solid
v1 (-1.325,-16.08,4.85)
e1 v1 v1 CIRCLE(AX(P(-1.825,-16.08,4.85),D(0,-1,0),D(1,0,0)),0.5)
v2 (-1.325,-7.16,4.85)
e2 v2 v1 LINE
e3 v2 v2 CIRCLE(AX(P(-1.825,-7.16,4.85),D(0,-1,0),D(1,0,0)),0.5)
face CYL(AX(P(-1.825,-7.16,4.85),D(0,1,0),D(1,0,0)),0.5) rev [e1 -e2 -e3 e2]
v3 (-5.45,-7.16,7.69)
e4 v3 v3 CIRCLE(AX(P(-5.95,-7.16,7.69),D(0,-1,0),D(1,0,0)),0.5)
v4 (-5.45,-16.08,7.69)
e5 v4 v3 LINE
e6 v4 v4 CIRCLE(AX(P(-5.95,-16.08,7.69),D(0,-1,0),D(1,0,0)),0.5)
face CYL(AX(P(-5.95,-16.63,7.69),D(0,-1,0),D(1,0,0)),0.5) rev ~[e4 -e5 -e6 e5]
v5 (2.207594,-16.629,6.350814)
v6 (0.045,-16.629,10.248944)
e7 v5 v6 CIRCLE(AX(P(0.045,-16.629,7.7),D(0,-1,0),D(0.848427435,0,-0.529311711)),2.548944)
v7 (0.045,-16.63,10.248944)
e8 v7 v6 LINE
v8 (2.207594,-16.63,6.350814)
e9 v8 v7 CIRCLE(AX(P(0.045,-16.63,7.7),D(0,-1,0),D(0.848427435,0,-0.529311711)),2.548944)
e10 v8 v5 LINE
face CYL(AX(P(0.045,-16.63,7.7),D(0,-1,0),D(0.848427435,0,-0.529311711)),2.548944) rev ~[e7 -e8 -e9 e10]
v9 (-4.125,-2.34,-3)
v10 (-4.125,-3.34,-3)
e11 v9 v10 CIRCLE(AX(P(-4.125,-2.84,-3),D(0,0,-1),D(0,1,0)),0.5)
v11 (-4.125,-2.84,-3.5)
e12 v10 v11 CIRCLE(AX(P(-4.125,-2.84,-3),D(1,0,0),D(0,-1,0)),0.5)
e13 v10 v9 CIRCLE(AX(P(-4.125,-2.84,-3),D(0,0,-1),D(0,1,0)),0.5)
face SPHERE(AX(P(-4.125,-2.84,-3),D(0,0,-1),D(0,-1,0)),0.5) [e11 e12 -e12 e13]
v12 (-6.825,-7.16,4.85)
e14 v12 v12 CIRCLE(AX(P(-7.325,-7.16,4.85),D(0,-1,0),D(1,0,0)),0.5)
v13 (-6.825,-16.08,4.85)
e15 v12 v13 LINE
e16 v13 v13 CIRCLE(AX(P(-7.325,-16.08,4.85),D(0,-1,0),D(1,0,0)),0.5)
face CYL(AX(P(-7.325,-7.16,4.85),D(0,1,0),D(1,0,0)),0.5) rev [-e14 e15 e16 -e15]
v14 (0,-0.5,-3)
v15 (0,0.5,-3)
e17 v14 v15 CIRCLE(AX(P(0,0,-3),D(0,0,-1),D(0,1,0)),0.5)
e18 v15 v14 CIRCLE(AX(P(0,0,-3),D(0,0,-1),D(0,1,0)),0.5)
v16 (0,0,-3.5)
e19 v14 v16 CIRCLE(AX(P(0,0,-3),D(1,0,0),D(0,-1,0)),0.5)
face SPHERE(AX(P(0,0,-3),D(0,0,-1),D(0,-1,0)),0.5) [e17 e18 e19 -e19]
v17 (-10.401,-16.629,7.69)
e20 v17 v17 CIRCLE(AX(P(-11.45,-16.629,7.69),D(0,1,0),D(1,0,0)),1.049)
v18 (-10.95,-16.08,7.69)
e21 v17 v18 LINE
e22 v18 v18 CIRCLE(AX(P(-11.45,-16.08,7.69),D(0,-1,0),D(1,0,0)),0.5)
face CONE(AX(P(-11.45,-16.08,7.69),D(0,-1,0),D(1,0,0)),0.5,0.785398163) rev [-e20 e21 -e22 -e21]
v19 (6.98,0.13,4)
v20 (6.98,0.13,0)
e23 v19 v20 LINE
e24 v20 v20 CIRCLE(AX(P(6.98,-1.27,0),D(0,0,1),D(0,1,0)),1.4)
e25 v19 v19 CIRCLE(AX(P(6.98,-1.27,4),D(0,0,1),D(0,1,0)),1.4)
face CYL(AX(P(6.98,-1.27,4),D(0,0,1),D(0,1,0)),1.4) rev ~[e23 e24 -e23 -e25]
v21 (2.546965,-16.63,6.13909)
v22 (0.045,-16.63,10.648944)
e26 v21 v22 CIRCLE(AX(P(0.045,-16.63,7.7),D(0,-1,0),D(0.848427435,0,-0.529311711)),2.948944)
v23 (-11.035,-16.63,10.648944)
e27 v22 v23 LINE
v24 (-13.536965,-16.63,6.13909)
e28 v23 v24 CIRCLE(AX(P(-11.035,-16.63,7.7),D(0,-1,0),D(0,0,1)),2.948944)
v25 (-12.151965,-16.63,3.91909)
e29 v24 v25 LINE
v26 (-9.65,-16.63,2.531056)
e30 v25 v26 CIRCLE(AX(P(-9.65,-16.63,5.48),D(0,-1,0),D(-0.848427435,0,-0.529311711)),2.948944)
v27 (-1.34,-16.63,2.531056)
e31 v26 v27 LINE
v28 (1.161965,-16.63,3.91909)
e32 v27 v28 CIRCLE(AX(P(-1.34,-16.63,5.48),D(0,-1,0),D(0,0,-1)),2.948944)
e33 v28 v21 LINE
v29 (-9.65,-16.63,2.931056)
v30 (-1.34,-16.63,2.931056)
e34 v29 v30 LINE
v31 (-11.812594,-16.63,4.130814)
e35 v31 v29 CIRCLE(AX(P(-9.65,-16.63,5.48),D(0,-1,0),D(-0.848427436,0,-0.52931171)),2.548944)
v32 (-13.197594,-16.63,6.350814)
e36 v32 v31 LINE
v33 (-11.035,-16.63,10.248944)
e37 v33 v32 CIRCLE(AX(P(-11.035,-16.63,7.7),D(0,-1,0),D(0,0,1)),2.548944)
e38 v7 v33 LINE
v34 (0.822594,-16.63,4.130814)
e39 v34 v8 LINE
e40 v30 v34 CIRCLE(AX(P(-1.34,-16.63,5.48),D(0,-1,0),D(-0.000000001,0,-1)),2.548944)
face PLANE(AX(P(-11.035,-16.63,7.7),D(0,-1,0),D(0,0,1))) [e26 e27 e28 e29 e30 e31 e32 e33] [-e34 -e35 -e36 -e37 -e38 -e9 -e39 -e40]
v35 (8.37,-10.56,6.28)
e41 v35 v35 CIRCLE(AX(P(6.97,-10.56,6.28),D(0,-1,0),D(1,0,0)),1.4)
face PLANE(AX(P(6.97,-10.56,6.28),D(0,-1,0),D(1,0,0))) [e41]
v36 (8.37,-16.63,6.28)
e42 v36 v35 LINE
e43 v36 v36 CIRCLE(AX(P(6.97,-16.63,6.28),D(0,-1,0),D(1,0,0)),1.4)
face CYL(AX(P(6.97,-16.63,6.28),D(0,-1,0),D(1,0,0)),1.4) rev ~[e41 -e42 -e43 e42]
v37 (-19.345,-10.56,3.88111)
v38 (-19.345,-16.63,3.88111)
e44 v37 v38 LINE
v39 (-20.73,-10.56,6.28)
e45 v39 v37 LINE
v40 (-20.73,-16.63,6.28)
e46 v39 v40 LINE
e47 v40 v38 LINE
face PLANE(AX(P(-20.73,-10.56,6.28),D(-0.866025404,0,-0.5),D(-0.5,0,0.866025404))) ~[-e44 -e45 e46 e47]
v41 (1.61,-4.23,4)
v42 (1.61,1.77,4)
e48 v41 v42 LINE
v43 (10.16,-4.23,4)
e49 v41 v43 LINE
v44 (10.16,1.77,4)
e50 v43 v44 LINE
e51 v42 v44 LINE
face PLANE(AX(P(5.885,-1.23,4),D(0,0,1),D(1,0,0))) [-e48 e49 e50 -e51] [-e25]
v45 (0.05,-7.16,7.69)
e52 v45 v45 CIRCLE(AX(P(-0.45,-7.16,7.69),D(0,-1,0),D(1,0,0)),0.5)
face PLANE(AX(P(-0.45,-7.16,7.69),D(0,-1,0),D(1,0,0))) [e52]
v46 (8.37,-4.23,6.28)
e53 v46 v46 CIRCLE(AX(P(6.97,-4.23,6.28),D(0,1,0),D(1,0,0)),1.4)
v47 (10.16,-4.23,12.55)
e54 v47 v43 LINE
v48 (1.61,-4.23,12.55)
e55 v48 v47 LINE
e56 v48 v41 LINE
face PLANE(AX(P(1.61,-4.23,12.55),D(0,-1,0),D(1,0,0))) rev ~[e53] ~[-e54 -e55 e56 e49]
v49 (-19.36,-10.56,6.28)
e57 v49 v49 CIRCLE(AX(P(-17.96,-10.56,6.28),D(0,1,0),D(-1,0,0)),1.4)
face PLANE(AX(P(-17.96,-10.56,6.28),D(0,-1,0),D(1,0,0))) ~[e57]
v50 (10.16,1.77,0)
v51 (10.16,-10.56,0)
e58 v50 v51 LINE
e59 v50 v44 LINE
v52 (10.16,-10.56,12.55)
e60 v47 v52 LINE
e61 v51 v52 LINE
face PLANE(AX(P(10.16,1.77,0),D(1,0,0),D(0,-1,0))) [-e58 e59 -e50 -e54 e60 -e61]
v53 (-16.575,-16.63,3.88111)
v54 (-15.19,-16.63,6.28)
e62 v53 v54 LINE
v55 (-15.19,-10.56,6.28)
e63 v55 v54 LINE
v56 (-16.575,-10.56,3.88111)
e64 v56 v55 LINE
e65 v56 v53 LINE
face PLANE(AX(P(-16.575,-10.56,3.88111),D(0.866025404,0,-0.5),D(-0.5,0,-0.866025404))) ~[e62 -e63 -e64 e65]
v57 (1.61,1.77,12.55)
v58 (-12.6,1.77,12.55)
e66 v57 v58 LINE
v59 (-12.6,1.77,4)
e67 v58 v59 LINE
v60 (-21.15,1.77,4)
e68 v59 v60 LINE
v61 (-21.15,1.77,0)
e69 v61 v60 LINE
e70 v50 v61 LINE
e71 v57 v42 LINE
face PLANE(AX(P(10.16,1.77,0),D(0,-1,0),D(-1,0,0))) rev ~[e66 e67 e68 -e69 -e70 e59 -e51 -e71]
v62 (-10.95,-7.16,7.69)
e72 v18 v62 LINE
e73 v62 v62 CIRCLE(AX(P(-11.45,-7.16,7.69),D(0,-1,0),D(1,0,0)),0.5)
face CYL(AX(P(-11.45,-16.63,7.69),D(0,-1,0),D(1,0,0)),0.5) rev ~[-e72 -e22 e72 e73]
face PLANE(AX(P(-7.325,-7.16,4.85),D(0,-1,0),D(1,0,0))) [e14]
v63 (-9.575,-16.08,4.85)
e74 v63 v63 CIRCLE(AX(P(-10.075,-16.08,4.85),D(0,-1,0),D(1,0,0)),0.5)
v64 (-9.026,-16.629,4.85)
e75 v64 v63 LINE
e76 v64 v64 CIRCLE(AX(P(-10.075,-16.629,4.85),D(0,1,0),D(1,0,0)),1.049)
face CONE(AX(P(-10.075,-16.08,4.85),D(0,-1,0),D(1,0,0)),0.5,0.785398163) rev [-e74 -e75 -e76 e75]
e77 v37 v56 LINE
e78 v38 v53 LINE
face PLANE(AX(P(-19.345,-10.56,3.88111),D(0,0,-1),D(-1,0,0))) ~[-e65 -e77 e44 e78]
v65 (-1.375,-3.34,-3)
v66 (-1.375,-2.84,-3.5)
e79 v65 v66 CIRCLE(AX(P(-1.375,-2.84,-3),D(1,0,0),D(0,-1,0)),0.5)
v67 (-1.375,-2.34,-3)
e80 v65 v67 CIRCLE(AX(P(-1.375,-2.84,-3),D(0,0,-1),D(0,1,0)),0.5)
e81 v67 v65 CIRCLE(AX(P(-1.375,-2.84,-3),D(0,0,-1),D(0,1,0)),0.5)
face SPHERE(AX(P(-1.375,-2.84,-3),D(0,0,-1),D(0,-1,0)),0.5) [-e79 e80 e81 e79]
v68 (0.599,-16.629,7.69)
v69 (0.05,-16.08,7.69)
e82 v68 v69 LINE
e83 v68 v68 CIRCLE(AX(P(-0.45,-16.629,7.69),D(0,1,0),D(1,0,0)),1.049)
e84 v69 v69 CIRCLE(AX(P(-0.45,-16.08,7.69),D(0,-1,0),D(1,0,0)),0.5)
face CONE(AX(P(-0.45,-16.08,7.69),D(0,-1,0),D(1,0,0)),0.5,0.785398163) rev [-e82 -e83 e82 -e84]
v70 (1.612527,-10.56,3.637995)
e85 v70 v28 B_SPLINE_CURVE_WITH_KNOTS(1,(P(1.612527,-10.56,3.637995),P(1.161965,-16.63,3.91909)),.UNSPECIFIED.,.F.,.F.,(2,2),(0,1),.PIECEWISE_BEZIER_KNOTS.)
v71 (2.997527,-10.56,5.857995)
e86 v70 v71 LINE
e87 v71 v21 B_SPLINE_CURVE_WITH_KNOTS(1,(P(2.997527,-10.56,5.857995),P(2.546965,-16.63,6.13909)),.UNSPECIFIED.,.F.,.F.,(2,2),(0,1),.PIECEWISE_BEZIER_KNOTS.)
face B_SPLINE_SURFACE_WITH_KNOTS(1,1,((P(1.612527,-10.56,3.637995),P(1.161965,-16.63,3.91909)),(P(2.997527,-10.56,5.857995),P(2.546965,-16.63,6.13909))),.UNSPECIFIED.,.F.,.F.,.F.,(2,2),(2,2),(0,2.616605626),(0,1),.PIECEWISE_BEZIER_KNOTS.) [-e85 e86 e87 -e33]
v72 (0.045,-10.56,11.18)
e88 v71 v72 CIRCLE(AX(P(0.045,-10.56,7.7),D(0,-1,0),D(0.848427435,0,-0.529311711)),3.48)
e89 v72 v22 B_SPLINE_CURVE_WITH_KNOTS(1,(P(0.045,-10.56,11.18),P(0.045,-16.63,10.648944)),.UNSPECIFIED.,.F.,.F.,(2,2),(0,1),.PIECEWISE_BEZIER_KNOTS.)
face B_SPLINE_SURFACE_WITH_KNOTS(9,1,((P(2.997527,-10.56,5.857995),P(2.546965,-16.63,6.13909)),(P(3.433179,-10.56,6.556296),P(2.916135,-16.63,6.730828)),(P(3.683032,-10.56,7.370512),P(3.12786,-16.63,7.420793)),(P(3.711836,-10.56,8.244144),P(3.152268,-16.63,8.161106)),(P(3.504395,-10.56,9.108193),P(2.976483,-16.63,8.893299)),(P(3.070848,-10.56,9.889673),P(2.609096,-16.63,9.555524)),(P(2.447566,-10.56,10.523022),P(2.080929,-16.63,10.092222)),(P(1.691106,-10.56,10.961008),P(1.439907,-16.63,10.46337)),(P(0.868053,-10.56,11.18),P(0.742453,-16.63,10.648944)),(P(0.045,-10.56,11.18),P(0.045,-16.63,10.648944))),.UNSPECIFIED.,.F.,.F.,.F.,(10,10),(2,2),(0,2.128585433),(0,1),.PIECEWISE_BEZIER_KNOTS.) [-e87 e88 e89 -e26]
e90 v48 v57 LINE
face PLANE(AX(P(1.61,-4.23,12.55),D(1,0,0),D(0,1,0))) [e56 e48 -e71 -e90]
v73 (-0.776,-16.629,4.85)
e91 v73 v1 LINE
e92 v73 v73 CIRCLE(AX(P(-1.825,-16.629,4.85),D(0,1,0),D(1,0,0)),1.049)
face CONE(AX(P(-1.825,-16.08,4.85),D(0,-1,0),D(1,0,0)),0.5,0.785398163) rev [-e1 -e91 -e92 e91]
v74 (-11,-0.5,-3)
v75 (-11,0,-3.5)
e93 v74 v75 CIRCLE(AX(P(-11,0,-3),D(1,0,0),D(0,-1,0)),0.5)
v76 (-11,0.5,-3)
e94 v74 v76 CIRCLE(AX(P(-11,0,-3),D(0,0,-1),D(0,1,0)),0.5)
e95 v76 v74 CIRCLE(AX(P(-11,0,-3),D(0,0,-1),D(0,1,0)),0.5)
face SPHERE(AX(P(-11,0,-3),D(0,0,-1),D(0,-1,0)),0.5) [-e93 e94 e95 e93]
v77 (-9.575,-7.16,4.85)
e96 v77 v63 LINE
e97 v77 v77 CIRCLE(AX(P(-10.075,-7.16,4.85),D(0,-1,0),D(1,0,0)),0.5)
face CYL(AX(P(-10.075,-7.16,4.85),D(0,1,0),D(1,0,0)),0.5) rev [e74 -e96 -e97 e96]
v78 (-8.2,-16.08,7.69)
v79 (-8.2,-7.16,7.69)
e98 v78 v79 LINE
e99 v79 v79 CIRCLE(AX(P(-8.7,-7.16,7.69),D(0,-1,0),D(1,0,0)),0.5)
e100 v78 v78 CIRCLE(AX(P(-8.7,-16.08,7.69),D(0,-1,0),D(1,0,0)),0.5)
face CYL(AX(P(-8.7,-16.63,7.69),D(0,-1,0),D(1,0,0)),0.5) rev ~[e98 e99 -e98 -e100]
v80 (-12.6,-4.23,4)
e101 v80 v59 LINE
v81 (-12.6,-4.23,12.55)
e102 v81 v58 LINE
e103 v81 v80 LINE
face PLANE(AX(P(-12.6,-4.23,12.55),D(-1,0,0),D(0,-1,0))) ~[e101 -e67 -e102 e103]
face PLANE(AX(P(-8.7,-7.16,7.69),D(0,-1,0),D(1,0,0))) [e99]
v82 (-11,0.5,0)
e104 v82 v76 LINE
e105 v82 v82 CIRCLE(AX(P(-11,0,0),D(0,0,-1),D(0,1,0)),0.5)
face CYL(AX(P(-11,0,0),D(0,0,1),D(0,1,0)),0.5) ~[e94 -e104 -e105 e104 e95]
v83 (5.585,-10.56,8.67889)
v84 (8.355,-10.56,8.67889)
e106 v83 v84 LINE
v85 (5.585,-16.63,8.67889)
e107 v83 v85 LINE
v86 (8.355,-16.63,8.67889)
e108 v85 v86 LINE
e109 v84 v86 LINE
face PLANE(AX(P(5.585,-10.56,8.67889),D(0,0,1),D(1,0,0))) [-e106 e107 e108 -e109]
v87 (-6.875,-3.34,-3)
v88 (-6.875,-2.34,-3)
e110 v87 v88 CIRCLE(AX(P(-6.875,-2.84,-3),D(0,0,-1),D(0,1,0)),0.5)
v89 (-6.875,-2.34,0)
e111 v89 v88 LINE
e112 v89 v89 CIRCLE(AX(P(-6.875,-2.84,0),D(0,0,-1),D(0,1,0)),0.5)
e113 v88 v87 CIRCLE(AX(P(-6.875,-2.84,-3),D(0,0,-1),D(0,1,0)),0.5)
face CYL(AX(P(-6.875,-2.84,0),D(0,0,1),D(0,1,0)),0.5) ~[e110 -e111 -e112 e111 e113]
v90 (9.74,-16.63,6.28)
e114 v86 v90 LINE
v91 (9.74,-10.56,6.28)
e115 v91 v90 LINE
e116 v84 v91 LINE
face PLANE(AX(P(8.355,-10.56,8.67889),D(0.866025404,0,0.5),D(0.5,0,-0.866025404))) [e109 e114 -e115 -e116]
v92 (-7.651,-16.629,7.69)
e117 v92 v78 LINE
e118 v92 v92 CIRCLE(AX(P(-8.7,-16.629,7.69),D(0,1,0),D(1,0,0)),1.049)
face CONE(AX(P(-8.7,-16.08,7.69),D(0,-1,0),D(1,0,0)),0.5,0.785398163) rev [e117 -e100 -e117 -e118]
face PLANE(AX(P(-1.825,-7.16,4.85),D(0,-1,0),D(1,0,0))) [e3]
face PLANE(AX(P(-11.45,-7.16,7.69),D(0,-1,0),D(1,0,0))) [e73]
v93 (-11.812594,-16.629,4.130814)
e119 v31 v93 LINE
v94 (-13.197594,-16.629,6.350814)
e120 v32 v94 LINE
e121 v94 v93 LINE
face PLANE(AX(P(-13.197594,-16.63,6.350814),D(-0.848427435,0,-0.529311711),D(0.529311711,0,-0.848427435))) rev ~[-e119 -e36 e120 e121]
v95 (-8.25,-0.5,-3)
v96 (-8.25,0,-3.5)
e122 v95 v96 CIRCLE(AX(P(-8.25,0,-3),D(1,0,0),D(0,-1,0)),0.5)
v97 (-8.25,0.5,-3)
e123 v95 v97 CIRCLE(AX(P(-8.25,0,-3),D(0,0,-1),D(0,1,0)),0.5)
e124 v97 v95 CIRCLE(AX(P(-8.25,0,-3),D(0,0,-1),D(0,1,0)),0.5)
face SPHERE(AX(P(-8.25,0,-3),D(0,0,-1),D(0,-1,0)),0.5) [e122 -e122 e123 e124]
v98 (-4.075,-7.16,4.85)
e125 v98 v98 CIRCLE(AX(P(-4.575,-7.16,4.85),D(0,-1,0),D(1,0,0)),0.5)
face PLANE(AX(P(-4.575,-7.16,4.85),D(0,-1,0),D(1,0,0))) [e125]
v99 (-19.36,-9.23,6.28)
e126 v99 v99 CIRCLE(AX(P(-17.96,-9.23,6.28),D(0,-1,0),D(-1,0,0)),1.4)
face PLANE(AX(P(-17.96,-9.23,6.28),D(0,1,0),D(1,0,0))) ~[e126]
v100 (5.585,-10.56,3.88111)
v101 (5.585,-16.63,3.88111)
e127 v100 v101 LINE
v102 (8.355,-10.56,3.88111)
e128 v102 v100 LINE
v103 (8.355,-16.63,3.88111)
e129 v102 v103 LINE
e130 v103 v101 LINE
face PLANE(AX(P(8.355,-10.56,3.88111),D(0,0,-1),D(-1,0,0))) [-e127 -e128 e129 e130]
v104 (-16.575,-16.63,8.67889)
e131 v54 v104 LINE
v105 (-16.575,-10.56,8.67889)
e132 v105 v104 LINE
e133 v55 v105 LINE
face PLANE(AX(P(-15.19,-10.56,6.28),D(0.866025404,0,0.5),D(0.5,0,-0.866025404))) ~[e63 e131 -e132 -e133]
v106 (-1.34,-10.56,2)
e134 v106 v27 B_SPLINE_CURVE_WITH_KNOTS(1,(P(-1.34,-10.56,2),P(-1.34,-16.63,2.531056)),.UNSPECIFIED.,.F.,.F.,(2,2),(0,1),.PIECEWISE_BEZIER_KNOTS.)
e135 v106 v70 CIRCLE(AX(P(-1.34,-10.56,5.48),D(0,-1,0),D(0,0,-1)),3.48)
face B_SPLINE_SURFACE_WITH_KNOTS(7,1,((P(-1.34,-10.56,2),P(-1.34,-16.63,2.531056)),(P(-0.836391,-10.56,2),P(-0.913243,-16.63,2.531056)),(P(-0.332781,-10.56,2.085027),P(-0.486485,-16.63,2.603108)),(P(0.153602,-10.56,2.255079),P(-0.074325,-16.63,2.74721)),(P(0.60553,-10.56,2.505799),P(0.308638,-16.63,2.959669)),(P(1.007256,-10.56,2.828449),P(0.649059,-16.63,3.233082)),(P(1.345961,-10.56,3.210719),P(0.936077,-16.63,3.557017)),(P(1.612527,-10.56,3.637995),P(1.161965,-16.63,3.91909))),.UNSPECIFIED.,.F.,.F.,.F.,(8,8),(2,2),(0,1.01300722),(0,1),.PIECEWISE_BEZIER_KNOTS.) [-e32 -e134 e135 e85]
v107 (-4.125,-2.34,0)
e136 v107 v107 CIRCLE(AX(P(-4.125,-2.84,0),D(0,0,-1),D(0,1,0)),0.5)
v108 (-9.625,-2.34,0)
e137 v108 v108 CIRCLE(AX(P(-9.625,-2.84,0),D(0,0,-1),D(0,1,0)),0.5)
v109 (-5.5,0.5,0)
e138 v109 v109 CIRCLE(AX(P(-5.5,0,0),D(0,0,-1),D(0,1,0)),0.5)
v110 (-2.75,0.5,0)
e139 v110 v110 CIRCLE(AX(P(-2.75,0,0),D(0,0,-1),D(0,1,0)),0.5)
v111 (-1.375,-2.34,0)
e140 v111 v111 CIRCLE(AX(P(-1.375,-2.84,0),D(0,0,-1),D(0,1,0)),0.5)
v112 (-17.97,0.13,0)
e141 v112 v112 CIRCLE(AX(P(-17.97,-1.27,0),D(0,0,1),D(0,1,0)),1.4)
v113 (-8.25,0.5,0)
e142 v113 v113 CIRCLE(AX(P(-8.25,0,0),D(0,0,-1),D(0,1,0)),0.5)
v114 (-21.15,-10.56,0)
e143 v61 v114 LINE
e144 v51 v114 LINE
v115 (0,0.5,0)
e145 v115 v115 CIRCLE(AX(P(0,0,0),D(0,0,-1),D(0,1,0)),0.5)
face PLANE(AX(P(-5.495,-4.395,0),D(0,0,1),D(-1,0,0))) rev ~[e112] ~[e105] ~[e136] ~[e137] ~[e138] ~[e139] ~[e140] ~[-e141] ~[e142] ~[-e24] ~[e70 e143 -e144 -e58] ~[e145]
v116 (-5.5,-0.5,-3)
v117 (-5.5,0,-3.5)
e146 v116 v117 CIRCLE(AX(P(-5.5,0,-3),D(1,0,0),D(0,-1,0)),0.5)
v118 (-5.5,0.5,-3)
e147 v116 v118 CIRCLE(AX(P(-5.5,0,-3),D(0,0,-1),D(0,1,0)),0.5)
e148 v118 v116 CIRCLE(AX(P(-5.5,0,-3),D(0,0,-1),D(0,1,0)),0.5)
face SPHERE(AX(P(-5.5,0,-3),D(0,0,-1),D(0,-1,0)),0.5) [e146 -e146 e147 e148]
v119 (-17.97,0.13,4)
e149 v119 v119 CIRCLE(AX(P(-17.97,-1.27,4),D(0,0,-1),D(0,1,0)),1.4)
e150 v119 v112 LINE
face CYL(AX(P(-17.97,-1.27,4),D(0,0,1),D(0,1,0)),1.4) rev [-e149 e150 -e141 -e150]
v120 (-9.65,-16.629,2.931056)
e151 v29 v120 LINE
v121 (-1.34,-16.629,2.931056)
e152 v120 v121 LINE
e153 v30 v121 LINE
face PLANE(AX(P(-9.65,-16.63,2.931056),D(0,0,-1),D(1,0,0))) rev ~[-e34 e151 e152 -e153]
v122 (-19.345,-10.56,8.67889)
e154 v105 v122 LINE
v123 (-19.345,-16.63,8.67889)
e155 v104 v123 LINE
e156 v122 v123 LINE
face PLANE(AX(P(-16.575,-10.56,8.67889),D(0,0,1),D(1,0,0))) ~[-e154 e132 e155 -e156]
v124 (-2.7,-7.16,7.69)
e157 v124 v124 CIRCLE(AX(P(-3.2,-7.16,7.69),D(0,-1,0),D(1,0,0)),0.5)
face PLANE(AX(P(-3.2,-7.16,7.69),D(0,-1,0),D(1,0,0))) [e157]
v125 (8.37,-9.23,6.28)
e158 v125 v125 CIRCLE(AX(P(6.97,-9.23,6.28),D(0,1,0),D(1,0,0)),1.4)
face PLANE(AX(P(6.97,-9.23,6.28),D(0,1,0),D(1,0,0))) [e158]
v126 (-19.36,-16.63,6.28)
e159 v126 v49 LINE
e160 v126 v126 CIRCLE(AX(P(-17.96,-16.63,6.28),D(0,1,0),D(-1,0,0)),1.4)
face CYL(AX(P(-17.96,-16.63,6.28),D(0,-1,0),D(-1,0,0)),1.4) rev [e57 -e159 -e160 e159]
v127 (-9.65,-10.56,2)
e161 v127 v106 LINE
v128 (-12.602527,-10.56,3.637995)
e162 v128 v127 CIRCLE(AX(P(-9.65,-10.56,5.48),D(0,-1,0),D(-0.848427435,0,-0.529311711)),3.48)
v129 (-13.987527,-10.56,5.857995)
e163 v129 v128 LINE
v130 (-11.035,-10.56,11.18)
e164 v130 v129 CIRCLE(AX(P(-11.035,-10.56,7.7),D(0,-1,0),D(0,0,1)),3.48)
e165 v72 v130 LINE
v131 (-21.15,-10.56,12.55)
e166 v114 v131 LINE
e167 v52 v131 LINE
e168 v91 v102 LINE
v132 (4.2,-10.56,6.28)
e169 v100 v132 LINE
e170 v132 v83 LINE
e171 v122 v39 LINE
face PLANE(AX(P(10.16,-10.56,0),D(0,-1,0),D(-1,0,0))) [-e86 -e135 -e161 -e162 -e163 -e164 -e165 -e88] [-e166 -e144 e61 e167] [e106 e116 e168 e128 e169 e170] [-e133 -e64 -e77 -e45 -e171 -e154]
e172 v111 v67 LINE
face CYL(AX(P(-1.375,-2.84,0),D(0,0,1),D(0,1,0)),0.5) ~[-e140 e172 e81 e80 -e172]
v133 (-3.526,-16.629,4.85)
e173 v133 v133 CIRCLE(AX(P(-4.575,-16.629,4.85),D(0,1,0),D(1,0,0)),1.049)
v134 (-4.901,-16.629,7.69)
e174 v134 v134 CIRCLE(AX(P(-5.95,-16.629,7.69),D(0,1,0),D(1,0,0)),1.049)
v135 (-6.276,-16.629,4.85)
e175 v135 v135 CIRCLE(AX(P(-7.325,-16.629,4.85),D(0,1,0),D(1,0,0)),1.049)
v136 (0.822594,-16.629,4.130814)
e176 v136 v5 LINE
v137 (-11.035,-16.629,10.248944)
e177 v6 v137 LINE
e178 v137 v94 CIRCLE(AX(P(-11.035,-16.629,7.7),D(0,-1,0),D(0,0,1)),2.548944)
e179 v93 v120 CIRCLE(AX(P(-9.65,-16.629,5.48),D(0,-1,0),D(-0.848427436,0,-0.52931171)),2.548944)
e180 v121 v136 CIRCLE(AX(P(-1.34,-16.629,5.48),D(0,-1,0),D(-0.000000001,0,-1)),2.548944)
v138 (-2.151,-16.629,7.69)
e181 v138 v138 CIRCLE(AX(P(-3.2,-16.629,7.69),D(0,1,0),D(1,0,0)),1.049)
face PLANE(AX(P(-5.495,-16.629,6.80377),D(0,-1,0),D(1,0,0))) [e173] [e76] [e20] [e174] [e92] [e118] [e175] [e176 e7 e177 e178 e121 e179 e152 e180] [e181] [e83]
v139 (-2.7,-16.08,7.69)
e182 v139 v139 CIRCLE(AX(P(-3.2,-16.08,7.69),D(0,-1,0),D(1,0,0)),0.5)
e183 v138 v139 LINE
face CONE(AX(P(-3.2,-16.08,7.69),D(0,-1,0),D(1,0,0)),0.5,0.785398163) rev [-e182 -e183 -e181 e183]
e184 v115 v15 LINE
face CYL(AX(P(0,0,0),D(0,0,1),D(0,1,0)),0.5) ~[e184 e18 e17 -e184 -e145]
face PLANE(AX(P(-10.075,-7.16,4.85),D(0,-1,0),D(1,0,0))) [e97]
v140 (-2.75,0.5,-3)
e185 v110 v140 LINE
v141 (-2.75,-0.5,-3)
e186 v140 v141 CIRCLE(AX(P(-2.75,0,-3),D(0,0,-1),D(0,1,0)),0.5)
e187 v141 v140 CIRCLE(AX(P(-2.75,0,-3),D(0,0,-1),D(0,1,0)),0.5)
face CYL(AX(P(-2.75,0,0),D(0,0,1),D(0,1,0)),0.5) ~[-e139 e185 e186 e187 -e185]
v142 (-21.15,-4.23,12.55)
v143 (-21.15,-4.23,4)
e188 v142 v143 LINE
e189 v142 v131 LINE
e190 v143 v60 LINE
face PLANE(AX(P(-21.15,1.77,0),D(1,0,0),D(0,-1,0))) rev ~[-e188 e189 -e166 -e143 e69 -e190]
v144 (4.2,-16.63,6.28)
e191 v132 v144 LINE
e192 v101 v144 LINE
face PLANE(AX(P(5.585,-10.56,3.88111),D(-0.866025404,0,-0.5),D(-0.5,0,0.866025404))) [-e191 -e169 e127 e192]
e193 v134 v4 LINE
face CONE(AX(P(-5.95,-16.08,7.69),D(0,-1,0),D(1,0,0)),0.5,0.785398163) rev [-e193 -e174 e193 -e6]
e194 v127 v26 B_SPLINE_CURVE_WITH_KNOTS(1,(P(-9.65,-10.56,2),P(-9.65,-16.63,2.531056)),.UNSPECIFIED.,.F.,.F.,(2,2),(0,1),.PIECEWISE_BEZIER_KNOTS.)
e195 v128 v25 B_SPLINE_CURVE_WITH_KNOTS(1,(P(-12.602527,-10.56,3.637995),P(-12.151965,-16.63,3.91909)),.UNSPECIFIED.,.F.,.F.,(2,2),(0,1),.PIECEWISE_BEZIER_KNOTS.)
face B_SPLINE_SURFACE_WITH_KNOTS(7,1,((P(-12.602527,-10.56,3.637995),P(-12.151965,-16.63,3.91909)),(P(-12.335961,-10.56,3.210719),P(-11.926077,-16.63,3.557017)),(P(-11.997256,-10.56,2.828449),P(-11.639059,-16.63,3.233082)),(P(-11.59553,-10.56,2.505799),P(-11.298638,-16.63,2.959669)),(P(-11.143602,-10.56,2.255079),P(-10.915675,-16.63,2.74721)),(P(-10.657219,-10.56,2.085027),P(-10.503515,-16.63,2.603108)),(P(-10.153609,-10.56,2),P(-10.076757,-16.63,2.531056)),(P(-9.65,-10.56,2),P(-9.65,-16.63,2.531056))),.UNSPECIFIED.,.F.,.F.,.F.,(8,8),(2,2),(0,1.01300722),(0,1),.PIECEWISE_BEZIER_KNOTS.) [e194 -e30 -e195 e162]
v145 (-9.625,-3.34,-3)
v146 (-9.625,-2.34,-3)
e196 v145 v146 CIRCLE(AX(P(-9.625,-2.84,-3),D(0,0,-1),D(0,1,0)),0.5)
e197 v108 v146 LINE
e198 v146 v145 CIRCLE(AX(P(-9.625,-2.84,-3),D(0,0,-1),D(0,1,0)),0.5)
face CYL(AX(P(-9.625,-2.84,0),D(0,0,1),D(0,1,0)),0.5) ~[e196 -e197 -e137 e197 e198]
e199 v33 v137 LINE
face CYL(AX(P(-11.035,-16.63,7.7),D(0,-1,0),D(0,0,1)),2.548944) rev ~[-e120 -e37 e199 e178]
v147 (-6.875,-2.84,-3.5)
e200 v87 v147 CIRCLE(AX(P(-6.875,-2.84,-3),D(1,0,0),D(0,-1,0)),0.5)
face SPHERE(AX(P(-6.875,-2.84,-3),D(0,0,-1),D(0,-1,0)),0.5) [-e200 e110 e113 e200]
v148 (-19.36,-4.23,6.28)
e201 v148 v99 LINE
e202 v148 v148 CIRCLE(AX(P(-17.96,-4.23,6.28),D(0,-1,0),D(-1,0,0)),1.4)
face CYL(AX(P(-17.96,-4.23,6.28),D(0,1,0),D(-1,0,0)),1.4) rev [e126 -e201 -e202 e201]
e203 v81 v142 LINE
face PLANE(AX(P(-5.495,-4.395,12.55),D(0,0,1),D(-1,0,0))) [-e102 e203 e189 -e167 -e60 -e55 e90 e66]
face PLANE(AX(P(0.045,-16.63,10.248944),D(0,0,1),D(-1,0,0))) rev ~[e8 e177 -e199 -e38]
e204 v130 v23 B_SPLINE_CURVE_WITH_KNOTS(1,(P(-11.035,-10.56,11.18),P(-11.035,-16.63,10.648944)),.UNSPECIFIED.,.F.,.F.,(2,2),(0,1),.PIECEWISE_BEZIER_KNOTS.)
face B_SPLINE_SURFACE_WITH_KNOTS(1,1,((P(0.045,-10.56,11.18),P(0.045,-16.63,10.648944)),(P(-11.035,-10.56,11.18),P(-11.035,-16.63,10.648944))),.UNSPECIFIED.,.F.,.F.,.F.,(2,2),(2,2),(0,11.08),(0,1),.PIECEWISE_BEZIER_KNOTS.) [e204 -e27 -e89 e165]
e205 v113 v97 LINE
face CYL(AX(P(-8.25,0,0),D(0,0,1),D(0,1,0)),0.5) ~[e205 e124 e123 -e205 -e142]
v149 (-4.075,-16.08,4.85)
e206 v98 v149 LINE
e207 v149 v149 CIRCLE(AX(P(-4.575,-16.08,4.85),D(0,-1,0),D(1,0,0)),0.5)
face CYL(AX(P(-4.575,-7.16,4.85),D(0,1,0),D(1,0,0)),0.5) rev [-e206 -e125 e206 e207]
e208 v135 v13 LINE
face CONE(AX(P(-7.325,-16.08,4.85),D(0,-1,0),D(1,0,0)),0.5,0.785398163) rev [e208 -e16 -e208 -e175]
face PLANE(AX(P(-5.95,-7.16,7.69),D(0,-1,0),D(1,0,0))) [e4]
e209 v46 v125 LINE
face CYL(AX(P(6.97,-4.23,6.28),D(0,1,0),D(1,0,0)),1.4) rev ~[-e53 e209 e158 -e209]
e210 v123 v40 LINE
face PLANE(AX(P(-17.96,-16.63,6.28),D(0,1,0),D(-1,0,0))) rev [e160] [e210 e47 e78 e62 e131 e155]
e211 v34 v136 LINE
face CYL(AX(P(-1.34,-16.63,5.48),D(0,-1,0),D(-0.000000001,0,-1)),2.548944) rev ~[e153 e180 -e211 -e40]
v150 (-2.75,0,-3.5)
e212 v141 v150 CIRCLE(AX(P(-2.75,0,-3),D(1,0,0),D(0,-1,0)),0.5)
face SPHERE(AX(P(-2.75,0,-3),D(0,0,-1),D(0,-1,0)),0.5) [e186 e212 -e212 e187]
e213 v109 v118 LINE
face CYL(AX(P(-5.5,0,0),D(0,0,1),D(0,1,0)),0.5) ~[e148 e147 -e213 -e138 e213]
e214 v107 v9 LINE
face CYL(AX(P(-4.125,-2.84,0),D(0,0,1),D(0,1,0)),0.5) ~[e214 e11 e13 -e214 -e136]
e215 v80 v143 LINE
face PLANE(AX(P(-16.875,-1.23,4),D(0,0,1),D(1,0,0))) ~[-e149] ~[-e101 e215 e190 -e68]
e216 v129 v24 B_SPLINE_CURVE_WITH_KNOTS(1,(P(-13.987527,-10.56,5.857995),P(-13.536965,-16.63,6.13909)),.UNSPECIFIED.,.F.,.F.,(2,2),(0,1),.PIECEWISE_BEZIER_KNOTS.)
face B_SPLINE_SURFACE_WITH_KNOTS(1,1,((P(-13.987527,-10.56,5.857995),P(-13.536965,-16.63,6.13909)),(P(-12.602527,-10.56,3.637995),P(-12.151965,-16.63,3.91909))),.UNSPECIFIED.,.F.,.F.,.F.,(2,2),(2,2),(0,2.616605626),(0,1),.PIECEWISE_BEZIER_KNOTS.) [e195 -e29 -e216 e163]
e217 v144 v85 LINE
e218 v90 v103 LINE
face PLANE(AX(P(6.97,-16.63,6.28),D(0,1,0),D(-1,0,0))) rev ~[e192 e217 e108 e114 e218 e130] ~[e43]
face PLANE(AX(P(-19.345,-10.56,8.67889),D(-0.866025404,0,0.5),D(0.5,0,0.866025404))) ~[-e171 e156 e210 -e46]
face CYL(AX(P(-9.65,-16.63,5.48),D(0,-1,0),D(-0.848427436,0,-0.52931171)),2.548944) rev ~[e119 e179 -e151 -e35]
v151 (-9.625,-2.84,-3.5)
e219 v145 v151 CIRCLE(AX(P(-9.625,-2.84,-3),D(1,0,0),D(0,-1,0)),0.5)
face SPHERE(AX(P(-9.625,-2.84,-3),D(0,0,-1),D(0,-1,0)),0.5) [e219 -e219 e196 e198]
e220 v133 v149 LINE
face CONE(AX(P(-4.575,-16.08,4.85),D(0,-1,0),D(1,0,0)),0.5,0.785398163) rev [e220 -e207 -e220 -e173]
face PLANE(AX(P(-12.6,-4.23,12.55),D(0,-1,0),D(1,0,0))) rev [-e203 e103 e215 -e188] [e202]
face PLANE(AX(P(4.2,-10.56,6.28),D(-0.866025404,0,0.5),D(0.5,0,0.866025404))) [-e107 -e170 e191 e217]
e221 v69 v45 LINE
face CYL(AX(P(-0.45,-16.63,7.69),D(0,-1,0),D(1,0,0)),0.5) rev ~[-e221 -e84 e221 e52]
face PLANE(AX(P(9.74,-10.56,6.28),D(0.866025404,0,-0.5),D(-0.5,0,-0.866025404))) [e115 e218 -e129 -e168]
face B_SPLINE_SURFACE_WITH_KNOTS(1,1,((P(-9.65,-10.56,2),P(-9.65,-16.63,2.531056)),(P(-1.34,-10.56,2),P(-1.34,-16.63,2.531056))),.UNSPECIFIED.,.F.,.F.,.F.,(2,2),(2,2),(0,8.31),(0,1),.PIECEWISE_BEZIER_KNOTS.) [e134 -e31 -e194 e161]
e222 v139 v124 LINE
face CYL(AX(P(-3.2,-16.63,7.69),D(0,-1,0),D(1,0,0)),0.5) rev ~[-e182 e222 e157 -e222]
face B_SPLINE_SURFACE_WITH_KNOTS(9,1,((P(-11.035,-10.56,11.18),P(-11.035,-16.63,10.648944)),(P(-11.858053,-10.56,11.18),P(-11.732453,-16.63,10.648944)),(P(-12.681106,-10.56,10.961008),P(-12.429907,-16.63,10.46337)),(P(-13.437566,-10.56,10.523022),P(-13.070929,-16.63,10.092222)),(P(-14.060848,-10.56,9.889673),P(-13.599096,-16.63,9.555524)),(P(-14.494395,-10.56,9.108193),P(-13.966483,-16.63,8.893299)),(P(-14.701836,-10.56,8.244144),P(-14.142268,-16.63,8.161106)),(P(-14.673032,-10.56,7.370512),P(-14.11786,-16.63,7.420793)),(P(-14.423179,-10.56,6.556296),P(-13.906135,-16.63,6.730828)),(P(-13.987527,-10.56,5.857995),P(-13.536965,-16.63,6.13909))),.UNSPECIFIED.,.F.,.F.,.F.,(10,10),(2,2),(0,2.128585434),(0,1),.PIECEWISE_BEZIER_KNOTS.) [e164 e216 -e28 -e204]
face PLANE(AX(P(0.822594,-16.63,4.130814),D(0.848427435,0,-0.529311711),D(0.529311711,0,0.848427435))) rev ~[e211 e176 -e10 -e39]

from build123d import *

# Parameters (mm, degrees)
SKETCH1_W                    = 31.31
SKETCH1_H                    = 12.33
BASE_EXTRUDE_DEPTH           = 12.55
SKETCH2_W                    = 8.55
SKETCH2_H                    = 6
CUT_EXTRUDE1_DEPTH           = 8.55
SKETCH3_R                    = 1.4
CUT_EXTRUDE2_DEPTH           = 26.13838897
BOSS_EXTRUDE1_DEPTH          = 6.07
SKETCH5_R                    = 1.4
CUT_EXTRUDE3_DEPTH           = 6.07
BOSS_EXTRUDE2_DEPTH          = 6.07
BOSS_EXTRUDE2_TAPER          = 5
SKETCH12_R                   = 1.4
CUT_EXTRUDE7_DEPTH           = 5
SKETCH7_R                    = 0.5
CUT_EXTRUDE4_DEPTH           = 9.47
CHAMFER2_SIZE                = 0.55
LPATTERN1_COUNT              = 5
LPATTERN1_PITCH              = 2.75
CHAMFER2_OF_LPATTERN1_SIZE   = 0.55
CUT_EXTRUDE5_START           = -9.47
SKETCH8_R                    = 0.5
CUT_EXTRUDE5_DEPTH           = 9.47
CHAMFER3_SIZE                = 0.55
LPATTERN2_COUNT              = 4
LPATTERN2_PITCH              = 2.75
CHAMFER3_OF_LPATTERN2_SIZE   = 0.55
SKETCH9_R                    = 0.5
BOSS_EXTRUDE3_DEPTH          = 3
DOME1_FACE_RADIUS            = 0.5
DOME1_HEIGHT                 = 0.5
LPATTERN3_COUNT              = 5
LPATTERN3_PITCH              = 2.75
LPATTERN3_COPY_1_FACE_RADIUS = 0.5
LPATTERN3_COPY_1_HEIGHT      = 0.5
LPATTERN3_COPY_2_FACE_RADIUS = 0.5
LPATTERN3_COPY_2_HEIGHT      = 0.5
LPATTERN3_COPY_3_FACE_RADIUS = 0.5
LPATTERN3_COPY_3_HEIGHT      = 0.5
LPATTERN3_COPY_4_FACE_RADIUS = 0.5
LPATTERN3_COPY_4_HEIGHT      = 0.5
SKETCH10_R                   = 0.5
BOSS_EXTRUDE4_DEPTH          = 3
DOME2_FACE_RADIUS            = 0.5
DOME2_HEIGHT                 = 0.5
LPATTERN4_COUNT              = 4
LPATTERN4_PITCH              = 2.75
LPATTERN4_COPY_1_FACE_RADIUS = 0.5
LPATTERN4_COPY_1_HEIGHT      = 0.5
LPATTERN4_COPY_2_FACE_RADIUS = 0.5
LPATTERN4_COPY_2_HEIGHT      = 0.5
LPATTERN4_COPY_3_FACE_RADIUS = 0.5
LPATTERN4_COPY_3_HEIGHT      = 0.5
CUT_EXTRUDE6_DEPTH           = 0.001
BODY_MOVE_COPY1_ANGLE        = 180


with BuildPart() as part:
    # Sketch1 → Base-Extrude (new body)
    with BuildSketch(Plane(origin=(0, 0, 0), x_dir=(1, 0, 0), z_dir=(0, 1, 0))):
        with Locations((5.495, 4.395)):
            Rectangle(SKETCH1_W, SKETCH1_H)
    extrude(amount=BASE_EXTRUDE_DEPTH)

    # Sketch2 → Cut-Extrude1 (cut)
    with BuildSketch(Plane(origin=(0, 12.55, 0), x_dir=(-1, 0, 0), z_dir=(0, 1, 0))):
        with Locations((5.885, -1.23)):
            Rectangle(SKETCH2_W, SKETCH2_H)
    cut_extrude1 = extrude(amount=-CUT_EXTRUDE1_DEPTH, mode=Mode.SUBTRACT)

    # Sketch3 → Cut-Extrude2 (cut, through all)
    with BuildSketch(Plane(origin=(0, 4, 0), x_dir=(-1, 0, 0), z_dir=(0, 1, 0))):
        with Locations(Location((6.98, -1.27, 0), (0, 0, 90))):
            Circle(SKETCH3_R)
    cut_extrude2 = extrude(amount=-CUT_EXTRUDE2_DEPTH, mode=Mode.SUBTRACT)

    # Sketch4 → Boss-Extrude1 (add)
    with BuildSketch(Plane(origin=(0, 0, -10.56), x_dir=(-1, 0, 0), z_dir=(0, 0, -1))):
        Polygon((8.355, 3.881109632), (5.585, 3.881109632), (4.2, 6.28), (5.585, 8.678890368), (8.355, 8.678890368), (9.74, 6.28), align=None)
    boss_extrude1 = extrude(amount=BOSS_EXTRUDE1_DEPTH)

    # Sketch5 → Cut-Extrude3 (cut)
    with BuildSketch(Plane(origin=(0, 0, -16.63), x_dir=(-1, 0, 0), z_dir=(0, 0, -1))):
        with Locations((6.97, 6.28)):
            Circle(SKETCH5_R)
    cut_extrude3 = extrude(amount=-CUT_EXTRUDE3_DEPTH, mode=Mode.SUBTRACT)

    # Sketch6 → Boss-Extrude2 (add)
    with BuildSketch(Plane(origin=(0, 0, -10.56), x_dir=(-1, 0, 0), z_dir=(0, 0, -1))):
        with BuildLine():
            ThreePointArc((-11.035, 11.18), (-14.078072176, 9.388227393), (-13.987527475, 5.857995247))
            Line((-13.987527475, 5.857995247), (-12.602527475, 3.637995247))
            ThreePointArc((-12.602527475, 3.637995247), (-11.338227393, 2.436927824), (-9.65, 2))
            Line((-9.65, 2), (-1.34, 2))
            ThreePointArc((-1.34, 2), (0.348227393, 2.436927824), (1.612527475, 3.637995247))
            Line((1.612527475, 3.637995247), (2.997527475, 5.857995247))
            ThreePointArc((2.997527475, 5.857995247), (3.088072176, 9.388227393), (0.045, 11.18))
            Line((0.045, 11.18), (-11.035, 11.18))
        make_face()
    extrude(amount=BOSS_EXTRUDE2_DEPTH, taper=BOSS_EXTRUDE2_TAPER)

    # Sketch12 → Cut-Extrude7 (cut)
    with BuildSketch(Plane.XY.offset(-4.23)):
        with Locations(Location((-6.97, 6.28, 0), (0, 0, 180))):
            Circle(SKETCH12_R)
    cut_extrude7 = extrude(amount=-CUT_EXTRUDE7_DEPTH, mode=Mode.SUBTRACT)

    # Mirror1: Cut-Extrude1, Cut-Extrude2, Boss-Extrude1, Cut-Extrude3, Cut-Extrude7 across plane
    add(cut_extrude1.mirror(Plane.ZY.offset(-5.495)), mode=Mode.SUBTRACT)
    add(cut_extrude2.mirror(Plane.ZY.offset(-5.495)), mode=Mode.SUBTRACT)
    add(boss_extrude1.mirror(Plane.ZY.offset(-5.495)))
    add(cut_extrude3.mirror(Plane.ZY.offset(-5.495)), mode=Mode.SUBTRACT)
    add(cut_extrude7.mirror(Plane.ZY.offset(-5.495)), mode=Mode.SUBTRACT)

    # Sketch7 → Cut-Extrude4 (cut)
    with BuildSketch(Plane(origin=(0, 0, -16.63), x_dir=(-1, 0, 0), z_dir=(0, 0, -1))):
        with Locations((-0.45, 7.69)):
            Circle(SKETCH7_R)
    cut_extrude4 = extrude(amount=-CUT_EXTRUDE4_DEPTH, mode=Mode.SUBTRACT)

    # Chamfer2
    chamfer2_edges = [part.edges().sort_by_distance(p)[0] for p in [
        (0.95, 7.69, -16.63),
    ]]
    chamfer(chamfer2_edges, length=CHAMFER2_SIZE)

    # LPattern1: Cut-Extrude4 ×5
    with Locations(*[(i * LPATTERN1_PITCH, 0, 0) for i in range(1, LPATTERN1_COUNT)]):
        add(cut_extrude4, mode=Mode.SUBTRACT)

    # Chamfer2 of LPattern1
    chamfer2_of_lpattern1_edges = [part.edges().sort_by_distance(p)[0] for p in [
        (3.7, 7.69, -16.63),
        (6.45, 7.69, -16.63),
        (9.2, 7.69, -16.63),
        (11.95, 7.69, -16.63),
    ]]
    chamfer(chamfer2_of_lpattern1_edges, length=CHAMFER2_OF_LPATTERN1_SIZE)

    # Sketch8 → Cut-Extrude5 (cut)
    with BuildSketch(Plane(origin=(0, 0, -16.63), x_dir=(-1, 0, 0), z_dir=(0, 0, -1)).offset(CUT_EXTRUDE5_START)):
        with Locations((-1.825, 4.85)):
            Circle(SKETCH8_R)
    cut_extrude5 = extrude(amount=CUT_EXTRUDE5_DEPTH, mode=Mode.SUBTRACT)

    # Chamfer3
    chamfer3_edges = [part.edges().sort_by_distance(p)[0] for p in [
        (2.325, 4.85, -16.63),
    ]]
    chamfer(chamfer3_edges, length=CHAMFER3_SIZE)

    # LPattern2: Cut-Extrude5 ×4
    with Locations(*[(i * LPATTERN2_PITCH, 0, 0) for i in range(1, LPATTERN2_COUNT)]):
        add(cut_extrude5, mode=Mode.SUBTRACT)

    # Chamfer3 of LPattern2
    chamfer3_of_lpattern2_edges = [part.edges().sort_by_distance(p)[0] for p in [
        (5.075, 4.85, -16.63),
        (7.825, 4.85, -16.63),
        (10.575, 4.85, -16.63),
    ]]
    chamfer(chamfer3_of_lpattern2_edges, length=CHAMFER3_OF_LPATTERN2_SIZE)

    # Sketch9 → Boss-Extrude3 (add)
    with BuildSketch(Plane.XZ):
        with Locations(Location((0, 0, 0), (0, 0, 90))):
            Circle(SKETCH9_R)
    boss_extrude3 = extrude(amount=BOSS_EXTRUDE3_DEPTH)

    # Dome1: a dome of height H over a round flat face of radius A is a cap of a sphere of radius (A * A + H * H) / (2 * H)
    dome1_r = (DOME1_FACE_RADIUS * DOME1_FACE_RADIUS + DOME1_HEIGHT * DOME1_HEIGHT) / (2 * DOME1_HEIGHT)
    dome1_base = Plane((0, -3, 0), z_dir=(0, -1, 0))
    with Locations(dome1_base.offset(DOME1_HEIGHT - dome1_r)):
        dome1_ball = Sphere(dome1_r, mode=Mode.PRIVATE)
    add(split(dome1_ball, bisect_by=dome1_base, keep=Keep.TOP, mode=Mode.PRIVATE))

    # LPattern3: Boss-Extrude3 ×5
    with Locations(*[(i * LPATTERN3_PITCH, 0, 0) for i in range(1, LPATTERN3_COUNT)]):
        add(boss_extrude3)

    # LPattern3 copy 1: a dome of height H over a round flat face of radius A is a cap of a sphere of radius (A * A + H * H) / (2 * H)
    lpattern3_copy_1_r = (LPATTERN3_COPY_1_FACE_RADIUS * LPATTERN3_COPY_1_FACE_RADIUS + LPATTERN3_COPY_1_HEIGHT * LPATTERN3_COPY_1_HEIGHT) / (2 * LPATTERN3_COPY_1_HEIGHT)
    lpattern3_copy_1_base = Plane((2.75, -3, 0), z_dir=(0, -1, 0))
    with Locations(lpattern3_copy_1_base.offset(LPATTERN3_COPY_1_HEIGHT - lpattern3_copy_1_r)):
        lpattern3_copy_1_ball = Sphere(lpattern3_copy_1_r, mode=Mode.PRIVATE)
    add(split(lpattern3_copy_1_ball, bisect_by=lpattern3_copy_1_base, keep=Keep.TOP, mode=Mode.PRIVATE))

    # LPattern3 copy 2: a dome of height H over a round flat face of radius A is a cap of a sphere of radius (A * A + H * H) / (2 * H)
    lpattern3_copy_2_r = (LPATTERN3_COPY_2_FACE_RADIUS * LPATTERN3_COPY_2_FACE_RADIUS + LPATTERN3_COPY_2_HEIGHT * LPATTERN3_COPY_2_HEIGHT) / (2 * LPATTERN3_COPY_2_HEIGHT)
    lpattern3_copy_2_base = Plane((5.5, -3, 0), z_dir=(0, -1, 0))
    with Locations(lpattern3_copy_2_base.offset(LPATTERN3_COPY_2_HEIGHT - lpattern3_copy_2_r)):
        lpattern3_copy_2_ball = Sphere(lpattern3_copy_2_r, mode=Mode.PRIVATE)
    add(split(lpattern3_copy_2_ball, bisect_by=lpattern3_copy_2_base, keep=Keep.TOP, mode=Mode.PRIVATE))

    # LPattern3 copy 3: a dome of height H over a round flat face of radius A is a cap of a sphere of radius (A * A + H * H) / (2 * H)
    lpattern3_copy_3_r = (LPATTERN3_COPY_3_FACE_RADIUS * LPATTERN3_COPY_3_FACE_RADIUS + LPATTERN3_COPY_3_HEIGHT * LPATTERN3_COPY_3_HEIGHT) / (2 * LPATTERN3_COPY_3_HEIGHT)
    lpattern3_copy_3_base = Plane((8.25, -3, 0), z_dir=(0, -1, 0))
    with Locations(lpattern3_copy_3_base.offset(LPATTERN3_COPY_3_HEIGHT - lpattern3_copy_3_r)):
        lpattern3_copy_3_ball = Sphere(lpattern3_copy_3_r, mode=Mode.PRIVATE)
    add(split(lpattern3_copy_3_ball, bisect_by=lpattern3_copy_3_base, keep=Keep.TOP, mode=Mode.PRIVATE))

    # LPattern3 copy 4: a dome of height H over a round flat face of radius A is a cap of a sphere of radius (A * A + H * H) / (2 * H)
    lpattern3_copy_4_r = (LPATTERN3_COPY_4_FACE_RADIUS * LPATTERN3_COPY_4_FACE_RADIUS + LPATTERN3_COPY_4_HEIGHT * LPATTERN3_COPY_4_HEIGHT) / (2 * LPATTERN3_COPY_4_HEIGHT)
    lpattern3_copy_4_base = Plane((11, -3, 0), z_dir=(0, -1, 0))
    with Locations(lpattern3_copy_4_base.offset(LPATTERN3_COPY_4_HEIGHT - lpattern3_copy_4_r)):
        lpattern3_copy_4_ball = Sphere(lpattern3_copy_4_r, mode=Mode.PRIVATE)
    add(split(lpattern3_copy_4_ball, bisect_by=lpattern3_copy_4_base, keep=Keep.TOP, mode=Mode.PRIVATE))

    # Sketch10 → Boss-Extrude4 (add)
    with BuildSketch(Plane.XZ):
        with Locations(Location((1.375, -2.84, 0), (0, 0, 90))):
            Circle(SKETCH10_R)
    boss_extrude4 = extrude(amount=BOSS_EXTRUDE4_DEPTH)

    # Dome2: a dome of height H over a round flat face of radius A is a cap of a sphere of radius (A * A + H * H) / (2 * H)
    dome2_r = (DOME2_FACE_RADIUS * DOME2_FACE_RADIUS + DOME2_HEIGHT * DOME2_HEIGHT) / (2 * DOME2_HEIGHT)
    dome2_base = Plane((1.375, -3, -2.84), z_dir=(0, -1, 0))
    with Locations(dome2_base.offset(DOME2_HEIGHT - dome2_r)):
        dome2_ball = Sphere(dome2_r, mode=Mode.PRIVATE)
    add(split(dome2_ball, bisect_by=dome2_base, keep=Keep.TOP, mode=Mode.PRIVATE))

    # LPattern4: Boss-Extrude4 ×4
    with Locations(*[(i * LPATTERN4_PITCH, 0, 0) for i in range(1, LPATTERN4_COUNT)]):
        add(boss_extrude4)

    # LPattern4 copy 1: a dome of height H over a round flat face of radius A is a cap of a sphere of radius (A * A + H * H) / (2 * H)
    lpattern4_copy_1_r = (LPATTERN4_COPY_1_FACE_RADIUS * LPATTERN4_COPY_1_FACE_RADIUS + LPATTERN4_COPY_1_HEIGHT * LPATTERN4_COPY_1_HEIGHT) / (2 * LPATTERN4_COPY_1_HEIGHT)
    lpattern4_copy_1_base = Plane((4.125, -3, -2.84), z_dir=(0, -1, 0))
    with Locations(lpattern4_copy_1_base.offset(LPATTERN4_COPY_1_HEIGHT - lpattern4_copy_1_r)):
        lpattern4_copy_1_ball = Sphere(lpattern4_copy_1_r, mode=Mode.PRIVATE)
    add(split(lpattern4_copy_1_ball, bisect_by=lpattern4_copy_1_base, keep=Keep.TOP, mode=Mode.PRIVATE))

    # LPattern4 copy 2: a dome of height H over a round flat face of radius A is a cap of a sphere of radius (A * A + H * H) / (2 * H)
    lpattern4_copy_2_r = (LPATTERN4_COPY_2_FACE_RADIUS * LPATTERN4_COPY_2_FACE_RADIUS + LPATTERN4_COPY_2_HEIGHT * LPATTERN4_COPY_2_HEIGHT) / (2 * LPATTERN4_COPY_2_HEIGHT)
    lpattern4_copy_2_base = Plane((6.875, -3, -2.84), z_dir=(0, -1, 0))
    with Locations(lpattern4_copy_2_base.offset(LPATTERN4_COPY_2_HEIGHT - lpattern4_copy_2_r)):
        lpattern4_copy_2_ball = Sphere(lpattern4_copy_2_r, mode=Mode.PRIVATE)
    add(split(lpattern4_copy_2_ball, bisect_by=lpattern4_copy_2_base, keep=Keep.TOP, mode=Mode.PRIVATE))

    # LPattern4 copy 3: a dome of height H over a round flat face of radius A is a cap of a sphere of radius (A * A + H * H) / (2 * H)
    lpattern4_copy_3_r = (LPATTERN4_COPY_3_FACE_RADIUS * LPATTERN4_COPY_3_FACE_RADIUS + LPATTERN4_COPY_3_HEIGHT * LPATTERN4_COPY_3_HEIGHT) / (2 * LPATTERN4_COPY_3_HEIGHT)
    lpattern4_copy_3_base = Plane((9.625, -3, -2.84), z_dir=(0, -1, 0))
    with Locations(lpattern4_copy_3_base.offset(LPATTERN4_COPY_3_HEIGHT - lpattern4_copy_3_r)):
        lpattern4_copy_3_ball = Sphere(lpattern4_copy_3_r, mode=Mode.PRIVATE)
    add(split(lpattern4_copy_3_ball, bisect_by=lpattern4_copy_3_base, keep=Keep.TOP, mode=Mode.PRIVATE))

    # Sketch11 → Cut-Extrude6 (cut)
    with BuildSketch(Plane(origin=(0, 0, -16.63), x_dir=(-1, 0, 0), z_dir=(0, 0, -1))):
        with BuildLine():
            Line((0.822593861, 4.13081419), (2.207593861, 6.35081419))
            ThreePointArc((2.207593861, 6.35081419), (2.273913792, 8.936550795), (0.045, 10.248943812))
            Line((0.045, 10.248943812), (-11.035, 10.248943812))
            ThreePointArc((-11.035, 10.248943812), (-13.263913792, 8.936550795), (-13.197593861, 6.35081419))
            Line((-13.197593861, 6.35081419), (-11.812593861, 4.13081419))
            ThreePointArc((-11.812593861, 4.13081419), (-10.886550795, 3.251086208), (-9.65, 2.931056188))
            Line((-9.65, 2.931056188), (-1.34, 2.931056188))
            ThreePointArc((-1.34, 2.931056188), (-0.103449205, 3.251086208), (0.822593861, 4.13081419))
        make_face()
    extrude(amount=-CUT_EXTRUDE6_DEPTH, mode=Mode.SUBTRACT)


with BuildPart() as part_1:
    # Body-Move_Copy1: moved
    add(part.part.rotate(Axis((0, 0, 0), (1.462460244036131e-13, 0.7071067811865841, 0.7071067811865109)), BODY_MOVE_COPY1_ANGLE))


solid = part_1.part
